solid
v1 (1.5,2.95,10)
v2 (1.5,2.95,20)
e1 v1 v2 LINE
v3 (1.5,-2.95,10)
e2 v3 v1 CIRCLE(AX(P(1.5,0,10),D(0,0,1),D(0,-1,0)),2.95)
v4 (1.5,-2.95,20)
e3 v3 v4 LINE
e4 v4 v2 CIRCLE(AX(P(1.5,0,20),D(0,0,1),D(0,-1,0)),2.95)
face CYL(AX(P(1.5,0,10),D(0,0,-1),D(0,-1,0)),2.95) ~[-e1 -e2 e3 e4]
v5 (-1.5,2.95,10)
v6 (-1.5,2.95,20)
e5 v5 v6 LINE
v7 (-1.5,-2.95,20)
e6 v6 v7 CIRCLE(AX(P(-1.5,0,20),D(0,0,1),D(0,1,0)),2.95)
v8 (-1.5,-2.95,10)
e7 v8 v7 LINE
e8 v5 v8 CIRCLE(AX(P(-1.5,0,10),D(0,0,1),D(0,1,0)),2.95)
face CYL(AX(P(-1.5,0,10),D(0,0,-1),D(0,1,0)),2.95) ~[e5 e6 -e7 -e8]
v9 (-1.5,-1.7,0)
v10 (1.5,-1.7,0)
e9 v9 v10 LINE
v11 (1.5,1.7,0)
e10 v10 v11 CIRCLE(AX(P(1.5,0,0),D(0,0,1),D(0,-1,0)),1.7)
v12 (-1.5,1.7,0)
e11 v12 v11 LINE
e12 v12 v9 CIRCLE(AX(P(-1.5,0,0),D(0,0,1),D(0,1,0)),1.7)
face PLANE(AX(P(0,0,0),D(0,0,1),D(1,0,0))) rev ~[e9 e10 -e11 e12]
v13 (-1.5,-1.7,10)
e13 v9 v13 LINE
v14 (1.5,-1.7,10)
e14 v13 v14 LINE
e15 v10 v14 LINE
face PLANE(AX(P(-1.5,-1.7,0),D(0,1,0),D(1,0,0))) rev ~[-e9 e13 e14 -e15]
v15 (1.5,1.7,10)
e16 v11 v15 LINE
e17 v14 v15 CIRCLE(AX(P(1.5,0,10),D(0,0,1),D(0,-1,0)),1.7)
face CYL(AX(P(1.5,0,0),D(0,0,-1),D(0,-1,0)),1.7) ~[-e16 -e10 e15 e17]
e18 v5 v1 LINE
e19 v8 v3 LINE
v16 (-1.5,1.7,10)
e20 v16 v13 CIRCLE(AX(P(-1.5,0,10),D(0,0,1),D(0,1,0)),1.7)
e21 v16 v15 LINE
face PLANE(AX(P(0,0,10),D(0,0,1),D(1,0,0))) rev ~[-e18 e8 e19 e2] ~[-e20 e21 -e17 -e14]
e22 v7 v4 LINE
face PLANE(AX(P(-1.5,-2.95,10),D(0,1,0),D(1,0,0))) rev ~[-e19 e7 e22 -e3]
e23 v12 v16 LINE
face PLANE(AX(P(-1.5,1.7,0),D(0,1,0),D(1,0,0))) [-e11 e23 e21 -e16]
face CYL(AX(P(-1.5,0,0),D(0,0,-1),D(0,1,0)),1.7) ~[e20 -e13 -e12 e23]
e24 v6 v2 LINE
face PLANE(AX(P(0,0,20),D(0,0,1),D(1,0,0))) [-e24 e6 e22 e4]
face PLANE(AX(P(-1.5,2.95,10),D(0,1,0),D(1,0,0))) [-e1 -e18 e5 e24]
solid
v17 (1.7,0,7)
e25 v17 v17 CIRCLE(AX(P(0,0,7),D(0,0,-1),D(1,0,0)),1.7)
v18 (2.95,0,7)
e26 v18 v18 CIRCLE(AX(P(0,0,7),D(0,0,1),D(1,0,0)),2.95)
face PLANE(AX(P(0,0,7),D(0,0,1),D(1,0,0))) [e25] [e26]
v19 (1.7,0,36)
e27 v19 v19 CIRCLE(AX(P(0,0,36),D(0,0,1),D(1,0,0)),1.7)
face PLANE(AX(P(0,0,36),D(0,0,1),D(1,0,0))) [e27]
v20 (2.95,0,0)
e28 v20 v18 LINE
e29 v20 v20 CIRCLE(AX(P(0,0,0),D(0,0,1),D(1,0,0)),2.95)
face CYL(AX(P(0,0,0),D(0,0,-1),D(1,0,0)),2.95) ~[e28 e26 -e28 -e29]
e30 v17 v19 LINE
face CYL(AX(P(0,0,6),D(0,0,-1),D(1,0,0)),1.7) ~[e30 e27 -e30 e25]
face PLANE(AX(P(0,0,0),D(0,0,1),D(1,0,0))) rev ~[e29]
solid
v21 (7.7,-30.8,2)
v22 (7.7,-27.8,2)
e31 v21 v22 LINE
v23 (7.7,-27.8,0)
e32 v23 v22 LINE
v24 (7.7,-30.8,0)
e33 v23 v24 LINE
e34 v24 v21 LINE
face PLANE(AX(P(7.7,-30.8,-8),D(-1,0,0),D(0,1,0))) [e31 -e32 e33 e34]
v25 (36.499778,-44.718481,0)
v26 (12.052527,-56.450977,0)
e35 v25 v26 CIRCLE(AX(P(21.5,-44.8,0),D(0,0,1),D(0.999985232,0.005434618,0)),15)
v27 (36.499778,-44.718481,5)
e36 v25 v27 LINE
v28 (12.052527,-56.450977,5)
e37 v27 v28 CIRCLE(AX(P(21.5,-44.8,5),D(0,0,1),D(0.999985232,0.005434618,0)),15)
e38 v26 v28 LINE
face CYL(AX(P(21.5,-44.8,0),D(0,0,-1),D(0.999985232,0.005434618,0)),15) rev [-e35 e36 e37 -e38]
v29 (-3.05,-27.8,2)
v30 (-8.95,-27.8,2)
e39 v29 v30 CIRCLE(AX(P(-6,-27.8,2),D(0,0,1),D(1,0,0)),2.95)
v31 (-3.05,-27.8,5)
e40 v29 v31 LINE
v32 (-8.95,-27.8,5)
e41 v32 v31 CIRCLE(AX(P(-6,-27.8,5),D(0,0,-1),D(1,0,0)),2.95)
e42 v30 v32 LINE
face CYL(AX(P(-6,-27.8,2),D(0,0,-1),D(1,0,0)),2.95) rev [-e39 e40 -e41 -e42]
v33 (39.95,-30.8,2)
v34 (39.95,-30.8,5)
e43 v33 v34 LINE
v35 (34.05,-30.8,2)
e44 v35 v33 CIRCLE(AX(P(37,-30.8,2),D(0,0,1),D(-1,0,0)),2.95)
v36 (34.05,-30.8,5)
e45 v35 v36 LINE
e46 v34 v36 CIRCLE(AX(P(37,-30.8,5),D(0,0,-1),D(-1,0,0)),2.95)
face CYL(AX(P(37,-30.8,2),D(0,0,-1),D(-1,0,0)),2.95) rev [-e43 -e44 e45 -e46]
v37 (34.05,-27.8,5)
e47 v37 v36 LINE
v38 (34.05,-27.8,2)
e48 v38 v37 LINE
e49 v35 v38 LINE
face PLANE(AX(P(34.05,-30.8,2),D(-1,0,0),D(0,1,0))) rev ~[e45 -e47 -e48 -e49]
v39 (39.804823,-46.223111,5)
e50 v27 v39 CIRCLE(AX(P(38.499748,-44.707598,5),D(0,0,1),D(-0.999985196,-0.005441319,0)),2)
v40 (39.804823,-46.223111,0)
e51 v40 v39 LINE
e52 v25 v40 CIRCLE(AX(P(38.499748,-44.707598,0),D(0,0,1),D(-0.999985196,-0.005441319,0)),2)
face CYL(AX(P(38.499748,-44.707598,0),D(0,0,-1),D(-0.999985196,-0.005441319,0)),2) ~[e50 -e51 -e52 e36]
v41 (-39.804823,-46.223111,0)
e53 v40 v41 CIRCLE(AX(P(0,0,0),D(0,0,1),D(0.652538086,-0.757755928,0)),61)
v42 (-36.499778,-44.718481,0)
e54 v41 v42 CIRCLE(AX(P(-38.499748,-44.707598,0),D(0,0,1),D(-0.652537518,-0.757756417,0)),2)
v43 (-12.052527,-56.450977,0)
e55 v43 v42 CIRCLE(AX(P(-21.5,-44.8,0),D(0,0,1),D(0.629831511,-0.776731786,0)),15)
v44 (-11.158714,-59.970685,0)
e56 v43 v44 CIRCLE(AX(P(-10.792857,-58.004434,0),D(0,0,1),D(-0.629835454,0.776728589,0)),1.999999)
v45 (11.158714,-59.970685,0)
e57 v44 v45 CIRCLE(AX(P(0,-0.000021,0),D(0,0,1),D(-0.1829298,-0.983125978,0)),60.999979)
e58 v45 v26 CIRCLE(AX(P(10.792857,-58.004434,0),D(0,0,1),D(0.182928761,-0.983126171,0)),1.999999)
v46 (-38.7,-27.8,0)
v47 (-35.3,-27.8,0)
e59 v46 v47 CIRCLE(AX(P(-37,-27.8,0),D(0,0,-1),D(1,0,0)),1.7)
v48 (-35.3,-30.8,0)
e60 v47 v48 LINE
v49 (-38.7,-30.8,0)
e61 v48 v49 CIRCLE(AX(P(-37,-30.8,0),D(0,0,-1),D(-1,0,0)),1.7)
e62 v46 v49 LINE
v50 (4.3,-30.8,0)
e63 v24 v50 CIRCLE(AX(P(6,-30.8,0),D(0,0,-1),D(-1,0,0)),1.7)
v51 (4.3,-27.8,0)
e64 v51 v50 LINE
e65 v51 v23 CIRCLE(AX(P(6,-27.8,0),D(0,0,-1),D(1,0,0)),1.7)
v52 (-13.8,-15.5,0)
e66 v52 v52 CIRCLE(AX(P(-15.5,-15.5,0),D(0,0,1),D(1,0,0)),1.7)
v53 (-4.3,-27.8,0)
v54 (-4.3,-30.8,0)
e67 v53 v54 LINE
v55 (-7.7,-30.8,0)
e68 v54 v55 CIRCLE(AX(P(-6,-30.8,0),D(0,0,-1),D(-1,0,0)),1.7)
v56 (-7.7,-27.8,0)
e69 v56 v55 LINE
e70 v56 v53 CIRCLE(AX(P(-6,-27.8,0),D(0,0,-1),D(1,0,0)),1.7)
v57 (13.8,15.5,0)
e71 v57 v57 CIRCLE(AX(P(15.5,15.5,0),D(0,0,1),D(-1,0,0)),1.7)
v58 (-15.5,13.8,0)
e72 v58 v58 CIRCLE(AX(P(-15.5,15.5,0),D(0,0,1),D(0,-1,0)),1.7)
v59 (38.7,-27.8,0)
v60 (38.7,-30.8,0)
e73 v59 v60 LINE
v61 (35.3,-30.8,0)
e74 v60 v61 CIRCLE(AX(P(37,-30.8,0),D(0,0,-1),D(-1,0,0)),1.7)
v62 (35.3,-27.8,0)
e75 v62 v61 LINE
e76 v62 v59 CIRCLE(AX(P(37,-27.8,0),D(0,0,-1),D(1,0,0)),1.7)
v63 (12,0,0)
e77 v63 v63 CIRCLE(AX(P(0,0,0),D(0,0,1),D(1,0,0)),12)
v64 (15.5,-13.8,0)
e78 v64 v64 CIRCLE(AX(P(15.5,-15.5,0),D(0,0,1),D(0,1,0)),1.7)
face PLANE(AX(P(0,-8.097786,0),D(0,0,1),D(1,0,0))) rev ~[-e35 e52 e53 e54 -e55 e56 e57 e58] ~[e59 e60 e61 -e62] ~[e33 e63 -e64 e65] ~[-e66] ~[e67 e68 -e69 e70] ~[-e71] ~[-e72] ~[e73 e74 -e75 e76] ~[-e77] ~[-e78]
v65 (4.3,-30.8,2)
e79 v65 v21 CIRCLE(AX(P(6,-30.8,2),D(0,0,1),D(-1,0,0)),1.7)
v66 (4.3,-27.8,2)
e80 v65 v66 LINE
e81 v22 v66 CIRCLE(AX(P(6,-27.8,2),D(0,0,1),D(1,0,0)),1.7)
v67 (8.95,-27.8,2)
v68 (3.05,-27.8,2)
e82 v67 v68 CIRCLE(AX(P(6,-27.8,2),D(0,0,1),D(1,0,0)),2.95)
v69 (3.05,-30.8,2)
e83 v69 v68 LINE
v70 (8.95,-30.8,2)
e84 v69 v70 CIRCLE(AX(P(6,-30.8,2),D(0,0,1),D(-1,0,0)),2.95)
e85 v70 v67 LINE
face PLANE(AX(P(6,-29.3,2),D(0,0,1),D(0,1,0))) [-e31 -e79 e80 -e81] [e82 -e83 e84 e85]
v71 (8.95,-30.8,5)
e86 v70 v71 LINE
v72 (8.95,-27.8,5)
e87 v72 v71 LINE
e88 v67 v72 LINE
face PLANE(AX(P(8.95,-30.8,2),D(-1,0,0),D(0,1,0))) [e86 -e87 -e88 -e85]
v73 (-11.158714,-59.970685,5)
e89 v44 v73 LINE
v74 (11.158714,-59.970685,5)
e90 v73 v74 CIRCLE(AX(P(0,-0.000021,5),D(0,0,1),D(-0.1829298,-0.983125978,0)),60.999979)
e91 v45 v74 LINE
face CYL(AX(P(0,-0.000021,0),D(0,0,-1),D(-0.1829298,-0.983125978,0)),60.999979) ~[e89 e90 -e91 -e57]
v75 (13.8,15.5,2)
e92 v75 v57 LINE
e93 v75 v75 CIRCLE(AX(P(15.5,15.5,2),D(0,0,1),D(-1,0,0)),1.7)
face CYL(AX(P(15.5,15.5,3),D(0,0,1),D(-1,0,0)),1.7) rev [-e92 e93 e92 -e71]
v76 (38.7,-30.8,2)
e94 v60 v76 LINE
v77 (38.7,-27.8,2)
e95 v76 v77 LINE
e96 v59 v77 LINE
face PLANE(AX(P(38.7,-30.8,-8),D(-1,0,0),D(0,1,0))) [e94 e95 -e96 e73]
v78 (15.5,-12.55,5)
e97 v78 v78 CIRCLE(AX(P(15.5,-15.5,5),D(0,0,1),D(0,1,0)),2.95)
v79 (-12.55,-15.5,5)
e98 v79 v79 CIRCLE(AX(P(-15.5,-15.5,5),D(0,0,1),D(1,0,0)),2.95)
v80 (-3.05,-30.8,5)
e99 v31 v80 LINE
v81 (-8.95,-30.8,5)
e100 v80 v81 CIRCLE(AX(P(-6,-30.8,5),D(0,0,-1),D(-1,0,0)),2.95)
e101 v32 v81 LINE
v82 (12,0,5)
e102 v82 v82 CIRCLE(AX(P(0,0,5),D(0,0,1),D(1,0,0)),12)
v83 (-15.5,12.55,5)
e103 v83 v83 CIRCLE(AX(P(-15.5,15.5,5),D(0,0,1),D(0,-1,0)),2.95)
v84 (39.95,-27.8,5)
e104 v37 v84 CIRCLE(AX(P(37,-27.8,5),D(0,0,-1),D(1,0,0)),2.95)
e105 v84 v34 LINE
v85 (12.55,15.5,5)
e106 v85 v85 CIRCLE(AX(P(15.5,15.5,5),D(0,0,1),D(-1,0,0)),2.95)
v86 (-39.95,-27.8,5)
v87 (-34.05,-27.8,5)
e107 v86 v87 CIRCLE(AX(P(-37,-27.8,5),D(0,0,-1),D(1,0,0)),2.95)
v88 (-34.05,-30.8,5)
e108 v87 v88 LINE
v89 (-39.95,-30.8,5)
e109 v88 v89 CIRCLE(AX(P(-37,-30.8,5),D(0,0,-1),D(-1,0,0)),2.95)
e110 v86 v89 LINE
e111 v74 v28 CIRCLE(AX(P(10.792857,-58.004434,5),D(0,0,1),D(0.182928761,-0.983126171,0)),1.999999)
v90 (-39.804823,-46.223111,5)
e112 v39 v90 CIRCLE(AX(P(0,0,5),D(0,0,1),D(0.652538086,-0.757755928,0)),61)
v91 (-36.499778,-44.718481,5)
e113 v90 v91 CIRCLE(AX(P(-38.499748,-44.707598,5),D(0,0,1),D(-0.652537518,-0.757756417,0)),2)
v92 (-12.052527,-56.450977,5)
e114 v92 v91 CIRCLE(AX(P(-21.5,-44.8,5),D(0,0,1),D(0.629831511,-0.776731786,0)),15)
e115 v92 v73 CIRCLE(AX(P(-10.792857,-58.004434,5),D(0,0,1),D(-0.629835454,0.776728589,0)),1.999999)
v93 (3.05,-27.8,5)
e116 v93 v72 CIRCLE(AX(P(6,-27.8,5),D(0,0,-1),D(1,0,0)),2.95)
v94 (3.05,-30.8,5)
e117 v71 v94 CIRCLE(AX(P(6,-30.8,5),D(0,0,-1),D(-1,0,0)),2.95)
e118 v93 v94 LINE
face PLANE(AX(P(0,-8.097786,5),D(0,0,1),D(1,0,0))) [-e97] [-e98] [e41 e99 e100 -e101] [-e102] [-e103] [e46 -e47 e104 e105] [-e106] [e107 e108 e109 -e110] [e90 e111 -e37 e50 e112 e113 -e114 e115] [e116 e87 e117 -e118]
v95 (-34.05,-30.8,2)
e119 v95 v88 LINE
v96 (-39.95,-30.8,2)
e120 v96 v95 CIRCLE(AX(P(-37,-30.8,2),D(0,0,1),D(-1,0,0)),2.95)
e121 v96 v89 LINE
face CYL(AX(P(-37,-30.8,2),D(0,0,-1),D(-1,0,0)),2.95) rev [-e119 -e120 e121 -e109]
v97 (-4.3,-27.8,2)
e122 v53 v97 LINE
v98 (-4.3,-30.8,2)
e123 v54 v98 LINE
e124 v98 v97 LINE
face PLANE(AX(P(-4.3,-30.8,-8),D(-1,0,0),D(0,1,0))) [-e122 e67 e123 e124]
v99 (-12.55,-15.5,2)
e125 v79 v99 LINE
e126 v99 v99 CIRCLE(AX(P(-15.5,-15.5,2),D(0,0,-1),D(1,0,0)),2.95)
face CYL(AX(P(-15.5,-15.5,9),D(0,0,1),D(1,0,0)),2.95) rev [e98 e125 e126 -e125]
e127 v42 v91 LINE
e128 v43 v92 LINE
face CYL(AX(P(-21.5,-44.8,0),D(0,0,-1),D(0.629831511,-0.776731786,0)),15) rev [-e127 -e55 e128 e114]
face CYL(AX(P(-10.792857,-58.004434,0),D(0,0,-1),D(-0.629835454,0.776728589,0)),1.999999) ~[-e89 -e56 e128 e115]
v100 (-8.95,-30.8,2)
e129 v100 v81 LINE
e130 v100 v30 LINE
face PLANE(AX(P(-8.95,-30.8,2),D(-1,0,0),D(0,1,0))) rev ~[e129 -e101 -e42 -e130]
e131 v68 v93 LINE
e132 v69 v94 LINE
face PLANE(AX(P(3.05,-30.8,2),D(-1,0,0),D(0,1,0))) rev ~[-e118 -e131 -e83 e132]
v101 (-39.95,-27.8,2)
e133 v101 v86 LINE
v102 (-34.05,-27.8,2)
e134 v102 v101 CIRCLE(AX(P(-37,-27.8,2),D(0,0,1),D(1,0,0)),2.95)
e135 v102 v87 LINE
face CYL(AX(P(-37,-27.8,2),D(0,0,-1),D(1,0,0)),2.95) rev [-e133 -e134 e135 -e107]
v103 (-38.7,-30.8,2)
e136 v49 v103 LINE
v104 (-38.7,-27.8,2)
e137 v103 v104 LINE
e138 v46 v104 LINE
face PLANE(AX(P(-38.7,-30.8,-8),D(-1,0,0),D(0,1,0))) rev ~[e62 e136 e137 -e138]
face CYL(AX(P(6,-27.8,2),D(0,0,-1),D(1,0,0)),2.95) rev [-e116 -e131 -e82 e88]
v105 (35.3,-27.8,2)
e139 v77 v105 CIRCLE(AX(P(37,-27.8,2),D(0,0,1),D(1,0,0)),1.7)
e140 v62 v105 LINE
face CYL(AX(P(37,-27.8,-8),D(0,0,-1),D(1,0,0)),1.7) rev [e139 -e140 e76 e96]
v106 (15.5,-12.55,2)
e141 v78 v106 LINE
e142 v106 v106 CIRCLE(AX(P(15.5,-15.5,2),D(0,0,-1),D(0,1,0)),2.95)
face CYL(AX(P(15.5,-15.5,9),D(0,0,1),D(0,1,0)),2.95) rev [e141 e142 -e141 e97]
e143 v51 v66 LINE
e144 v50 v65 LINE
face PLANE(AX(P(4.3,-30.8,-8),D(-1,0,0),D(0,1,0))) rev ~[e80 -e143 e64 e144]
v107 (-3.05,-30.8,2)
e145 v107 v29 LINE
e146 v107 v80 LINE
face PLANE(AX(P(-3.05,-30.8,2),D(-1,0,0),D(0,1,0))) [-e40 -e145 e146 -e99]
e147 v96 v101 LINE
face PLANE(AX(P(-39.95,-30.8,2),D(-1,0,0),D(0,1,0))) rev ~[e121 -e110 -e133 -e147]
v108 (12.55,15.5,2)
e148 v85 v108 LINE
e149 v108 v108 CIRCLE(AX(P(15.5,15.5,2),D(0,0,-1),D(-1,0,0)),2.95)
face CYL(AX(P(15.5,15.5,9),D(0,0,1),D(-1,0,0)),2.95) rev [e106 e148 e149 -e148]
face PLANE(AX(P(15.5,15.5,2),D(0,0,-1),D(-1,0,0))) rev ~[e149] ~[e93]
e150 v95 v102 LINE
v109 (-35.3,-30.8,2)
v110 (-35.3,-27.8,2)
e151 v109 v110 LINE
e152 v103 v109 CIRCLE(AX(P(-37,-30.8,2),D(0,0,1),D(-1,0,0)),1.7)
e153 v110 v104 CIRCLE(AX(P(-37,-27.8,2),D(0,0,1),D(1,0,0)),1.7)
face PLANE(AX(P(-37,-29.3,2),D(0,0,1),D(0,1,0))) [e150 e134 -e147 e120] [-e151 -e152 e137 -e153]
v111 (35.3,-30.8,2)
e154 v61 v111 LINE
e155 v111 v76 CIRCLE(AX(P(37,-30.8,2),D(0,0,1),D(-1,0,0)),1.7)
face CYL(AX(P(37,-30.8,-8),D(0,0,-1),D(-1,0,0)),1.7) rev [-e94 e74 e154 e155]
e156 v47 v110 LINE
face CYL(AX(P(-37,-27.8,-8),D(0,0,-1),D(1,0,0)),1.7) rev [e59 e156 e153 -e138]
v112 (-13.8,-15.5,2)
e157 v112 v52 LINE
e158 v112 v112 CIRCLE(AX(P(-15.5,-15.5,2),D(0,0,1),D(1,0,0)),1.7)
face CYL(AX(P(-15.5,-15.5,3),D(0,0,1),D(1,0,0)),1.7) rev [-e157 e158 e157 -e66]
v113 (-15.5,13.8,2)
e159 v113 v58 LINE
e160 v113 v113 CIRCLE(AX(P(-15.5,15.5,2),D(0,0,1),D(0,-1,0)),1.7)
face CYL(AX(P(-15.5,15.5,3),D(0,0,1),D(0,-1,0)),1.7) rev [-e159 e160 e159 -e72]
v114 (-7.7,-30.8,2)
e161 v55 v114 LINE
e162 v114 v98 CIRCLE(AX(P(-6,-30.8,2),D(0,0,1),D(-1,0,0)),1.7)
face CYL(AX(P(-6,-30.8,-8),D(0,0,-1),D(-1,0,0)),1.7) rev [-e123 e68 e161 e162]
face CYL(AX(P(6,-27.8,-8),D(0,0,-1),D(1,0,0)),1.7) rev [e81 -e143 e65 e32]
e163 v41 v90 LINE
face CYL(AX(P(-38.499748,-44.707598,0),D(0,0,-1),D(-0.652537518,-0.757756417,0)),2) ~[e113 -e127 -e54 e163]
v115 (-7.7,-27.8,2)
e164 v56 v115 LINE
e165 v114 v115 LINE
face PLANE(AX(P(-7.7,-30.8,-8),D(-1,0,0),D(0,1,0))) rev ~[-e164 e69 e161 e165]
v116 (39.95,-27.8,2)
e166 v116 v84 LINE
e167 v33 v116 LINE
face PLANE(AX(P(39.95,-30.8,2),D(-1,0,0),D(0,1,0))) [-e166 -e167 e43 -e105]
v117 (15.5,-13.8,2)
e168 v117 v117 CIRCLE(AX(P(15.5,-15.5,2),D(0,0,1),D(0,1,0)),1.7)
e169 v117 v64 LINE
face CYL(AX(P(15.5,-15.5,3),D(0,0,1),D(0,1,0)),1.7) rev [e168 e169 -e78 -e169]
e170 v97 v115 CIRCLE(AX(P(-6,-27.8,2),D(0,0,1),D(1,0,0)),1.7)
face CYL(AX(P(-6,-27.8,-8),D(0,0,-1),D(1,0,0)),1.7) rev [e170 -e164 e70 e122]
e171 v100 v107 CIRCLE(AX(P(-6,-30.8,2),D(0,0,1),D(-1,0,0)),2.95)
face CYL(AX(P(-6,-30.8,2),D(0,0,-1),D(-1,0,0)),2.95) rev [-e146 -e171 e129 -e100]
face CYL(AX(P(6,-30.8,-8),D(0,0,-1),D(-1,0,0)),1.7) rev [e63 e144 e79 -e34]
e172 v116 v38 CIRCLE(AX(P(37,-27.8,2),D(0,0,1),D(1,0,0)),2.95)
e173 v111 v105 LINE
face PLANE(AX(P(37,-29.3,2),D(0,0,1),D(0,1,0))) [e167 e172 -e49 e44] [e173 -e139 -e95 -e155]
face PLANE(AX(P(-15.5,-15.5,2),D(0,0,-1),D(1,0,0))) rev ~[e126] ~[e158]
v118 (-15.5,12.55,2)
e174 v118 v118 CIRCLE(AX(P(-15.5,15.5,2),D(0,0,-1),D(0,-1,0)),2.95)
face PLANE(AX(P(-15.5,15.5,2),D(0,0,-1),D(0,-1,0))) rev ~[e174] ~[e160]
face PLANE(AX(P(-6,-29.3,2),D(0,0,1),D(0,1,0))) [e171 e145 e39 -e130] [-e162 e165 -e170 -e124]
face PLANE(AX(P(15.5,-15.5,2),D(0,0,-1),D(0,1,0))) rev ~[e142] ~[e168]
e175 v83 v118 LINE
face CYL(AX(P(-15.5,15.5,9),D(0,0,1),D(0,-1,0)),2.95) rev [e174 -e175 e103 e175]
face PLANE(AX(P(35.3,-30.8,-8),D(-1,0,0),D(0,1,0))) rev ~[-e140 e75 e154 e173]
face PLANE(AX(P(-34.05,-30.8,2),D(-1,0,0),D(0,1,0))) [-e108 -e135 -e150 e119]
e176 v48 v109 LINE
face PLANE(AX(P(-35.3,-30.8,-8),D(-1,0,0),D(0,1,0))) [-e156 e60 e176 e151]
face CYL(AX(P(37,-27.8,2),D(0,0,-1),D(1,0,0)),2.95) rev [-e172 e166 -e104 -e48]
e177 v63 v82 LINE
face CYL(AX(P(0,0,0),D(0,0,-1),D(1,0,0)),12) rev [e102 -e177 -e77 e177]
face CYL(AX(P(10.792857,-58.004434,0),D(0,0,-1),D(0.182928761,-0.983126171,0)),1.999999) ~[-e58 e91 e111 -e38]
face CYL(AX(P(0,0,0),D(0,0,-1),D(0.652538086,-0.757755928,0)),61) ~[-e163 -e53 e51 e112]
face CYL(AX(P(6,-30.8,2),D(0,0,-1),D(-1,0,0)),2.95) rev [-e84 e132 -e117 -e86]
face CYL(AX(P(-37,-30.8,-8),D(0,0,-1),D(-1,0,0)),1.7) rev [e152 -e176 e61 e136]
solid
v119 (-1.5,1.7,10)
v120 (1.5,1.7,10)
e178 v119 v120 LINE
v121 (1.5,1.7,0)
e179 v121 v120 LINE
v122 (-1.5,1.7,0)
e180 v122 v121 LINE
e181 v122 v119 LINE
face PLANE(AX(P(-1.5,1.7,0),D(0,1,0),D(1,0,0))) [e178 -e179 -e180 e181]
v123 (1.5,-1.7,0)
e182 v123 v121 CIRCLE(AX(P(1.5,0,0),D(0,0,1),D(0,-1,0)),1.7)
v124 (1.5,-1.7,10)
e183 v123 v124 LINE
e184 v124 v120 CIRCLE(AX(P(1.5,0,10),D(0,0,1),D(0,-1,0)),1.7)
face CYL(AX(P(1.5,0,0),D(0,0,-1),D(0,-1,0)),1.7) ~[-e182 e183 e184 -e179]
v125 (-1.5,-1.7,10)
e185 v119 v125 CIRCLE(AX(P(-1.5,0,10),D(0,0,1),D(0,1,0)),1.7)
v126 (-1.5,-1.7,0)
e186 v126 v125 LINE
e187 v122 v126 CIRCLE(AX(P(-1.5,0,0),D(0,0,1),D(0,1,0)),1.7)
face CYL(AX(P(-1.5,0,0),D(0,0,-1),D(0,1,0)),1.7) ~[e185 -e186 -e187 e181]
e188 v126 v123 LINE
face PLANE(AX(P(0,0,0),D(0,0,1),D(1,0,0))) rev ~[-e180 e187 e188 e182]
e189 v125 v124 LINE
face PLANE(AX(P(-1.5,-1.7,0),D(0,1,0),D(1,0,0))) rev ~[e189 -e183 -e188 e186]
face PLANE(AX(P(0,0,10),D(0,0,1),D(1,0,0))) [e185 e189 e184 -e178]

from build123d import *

# Parameters (mm, degrees)
CYLINDER_R               = 2.95
CYLINDER_DEPTH           = 7
CYLINDER001_R            = 1.7
CYLINDER001_DEPTH        = 30
PAD006_DEPTH             = 10
PAD007_DEPTH             = 10
CLONE085_PLACEMENT_ANGLE = 90
CLONE084_PLACEMENT_ANGLE = 90
CLONE081_PLACEMENT_ANGLE = 90
CLONE080_PLACEMENT_ANGLE = 90
CLONE444_PLACEMENT_ANGLE = 180
ARRAY_COUNT              = 4
SKETCH019_R              = 12
PAD012_DEPTH             = 5


with BuildPart() as m3bolthead:
    # Cylinder → Cylinder (new body)
    with BuildSketch(Plane.XY):
        Circle(CYLINDER_R)
    extrude(amount=CYLINDER_DEPTH)


with BuildPart() as m3bolt:
    # Cylinder001 → Cylinder001 (new body)
    with BuildSketch(Plane.XY.offset(6)):
        Circle(CYLINDER001_R)
    extrude(amount=CYLINDER001_DEPTH)

    # Fusion: union M3BoltHead
    add(m3bolthead.part)


with BuildPart() as m3boltslider:
    # Sketch009 → Pad006 (new body)
    with BuildSketch(Plane.XY):
        with BuildLine():
            ThreePointArc((-1.5, 1.7), (-3.2, 0), (-1.5, -1.7))
            Line((-1.5, -1.7), (1.5, -1.7))
            ThreePointArc((1.5, -1.7), (3.2, 0), (1.5, 1.7))
            Line((-1.5, 1.7), (1.5, 1.7))
        make_face()
    extrude(amount=PAD006_DEPTH)


with BuildPart() as clone_of_m3boltslider003:
    # Clone040 base: copy of M3BoltSlider
    add(m3boltslider.part)


with BuildPart() as m3boldsliderwithhead:
    # Sketch010 → Pad007 (new body)
    with BuildSketch(Plane.XY.offset(10)):
        with BuildLine():
            ThreePointArc((-1.5, 2.95), (-4.45, 0), (-1.5, -2.95))
            Line((-1.5, -2.95), (1.5, -2.95))
            ThreePointArc((1.5, -2.95), (4.45, 0), (1.5, 2.95))
            Line((-1.5, 2.95), (1.5, 2.95))
        make_face()
    extrude(amount=PAD007_DEPTH)

    # Fusion015: union Clone of M3BoltSlider003
    add(clone_of_m3boltslider003.part)


with BuildPart() as clone_of_m3boldsliderwithhead016:
    # Clone085 base: copy of M3BoldSliderWithHead
    add(m3boldsliderwithhead.part)


with BuildPart() as clone_of_m3boldsliderwithhead016_1:
    # Clone085 placement: moved
    add(clone_of_m3boldsliderwithhead016.part.moved(Location((-37, -29.3, -8))).rotate(Axis((-37, -29.3, -8), (0, 0, 1)), CLONE085_PLACEMENT_ANGLE))


with BuildPart() as clone_of_m3boldsliderwithhead015:
    # Clone084 base: copy of M3BoldSliderWithHead
    add(m3boldsliderwithhead.part)


with BuildPart() as clone_of_m3boldsliderwithhead015_1:
    # Clone084 placement: moved
    add(clone_of_m3boldsliderwithhead015.part.moved(Location((6, -29.3, -8))).rotate(Axis((6, -29.3, -8), (0, 0, 1)), CLONE084_PLACEMENT_ANGLE))


with BuildPart() as clone_of_m3boldsliderwithhead012:
    # Clone081 base: copy of M3BoldSliderWithHead
    add(m3boldsliderwithhead.part)


with BuildPart() as clone_of_m3boldsliderwithhead012_1:
    # Clone081 placement: moved
    add(clone_of_m3boldsliderwithhead012.part.moved(Location((-6, -29.3, -8))).rotate(Axis((-6, -29.3, -8), (0, 0, 1)), CLONE081_PLACEMENT_ANGLE))


with BuildPart() as clone_of_m3boldsliderwithhead011:
    # Clone080 base: copy of M3BoldSliderWithHead
    add(m3boldsliderwithhead.part)


with BuildPart() as clone_of_m3boldsliderwithhead011_1:
    # Clone080 placement: moved
    add(clone_of_m3boldsliderwithhead011.part.moved(Location((37, -29.3, -8))).rotate(Axis((37, -29.3, -8), (0, 0, 1)), CLONE080_PLACEMENT_ANGLE))


with BuildPart() as fusion169:
    # Clone444 base: copy of M3Bolt
    add(m3bolt.part)


with BuildPart() as fusion169_1:
    # Clone444 placement: moved
    add(fusion169.part.moved(Location((15.5, 15.5, 9))).rotate(Axis((15.5, 15.5, 9), (0, 1, 0)), CLONE444_PLACEMENT_ANGLE))

    # Array: Fusion169 ×4 about axis
    array_axis = Axis((0, 0, 0), (0, 0, 1))


with BuildPart() as fusion169_2:
    add(fusion169_1.part)
    for i in range(1, ARRAY_COUNT):
        add(fusion169_1.part.rotate(array_axis, i * 360 / ARRAY_COUNT))

    # Fusion169: union Clone of M3BoldSliderWithHead016, Clone of M3BoldSliderWithHead015, Clone of M3BoldSliderWithHead012, Clone of M3BoldSliderWithHead011
    add(clone_of_m3boldsliderwithhead016_1.part)
    add(clone_of_m3boldsliderwithhead015_1.part)
    add(clone_of_m3boldsliderwithhead012_1.part)
    add(clone_of_m3boldsliderwithhead011_1.part)


with BuildPart() as art2bodyacover1:
    # Sketch019 → Pad012 (new body)
    with BuildSketch(Plane.XY):
        with BuildLine():
            ThreePointArc((-11.158714, -59.970685), (0, -61), (11.158714, -59.970685))
            ThreePointArc((11.158714, -59.970685), (12.731328, -58.496699), (12.052527, -56.450977))
            ThreePointArc((36.499778, -44.718481), (15.010016, -31.276683), (12.052527, -56.450977))
            ThreePointArc((36.499778, -44.718481), (37.671076, -46.527846), (39.804823, -46.223111))
            ThreePointArc((39.804823, -46.223111), (0, 61), (-39.804823, -46.223111))
            ThreePointArc((-39.804823, -46.223111), (-37.671076, -46.527846), (-36.499778, -44.718481))
            ThreePointArc((-12.052527, -56.450977), (-15.010016, -31.276683), (-36.499778, -44.718481))
            ThreePointArc((-12.052527, -56.450977), (-12.731328, -58.496699), (-11.158714, -59.970685))
        make_face()
        Circle(SKETCH019_R, mode=Mode.SUBTRACT)
    extrude(amount=PAD012_DEPTH)

    # Cut149: cut Fusion169
    add(fusion169_2.part, mode=Mode.SUBTRACT)


solid = Compound([m3bolt.part, m3boltslider.part, m3boldsliderwithhead.part, art2bodyacover1.part])
